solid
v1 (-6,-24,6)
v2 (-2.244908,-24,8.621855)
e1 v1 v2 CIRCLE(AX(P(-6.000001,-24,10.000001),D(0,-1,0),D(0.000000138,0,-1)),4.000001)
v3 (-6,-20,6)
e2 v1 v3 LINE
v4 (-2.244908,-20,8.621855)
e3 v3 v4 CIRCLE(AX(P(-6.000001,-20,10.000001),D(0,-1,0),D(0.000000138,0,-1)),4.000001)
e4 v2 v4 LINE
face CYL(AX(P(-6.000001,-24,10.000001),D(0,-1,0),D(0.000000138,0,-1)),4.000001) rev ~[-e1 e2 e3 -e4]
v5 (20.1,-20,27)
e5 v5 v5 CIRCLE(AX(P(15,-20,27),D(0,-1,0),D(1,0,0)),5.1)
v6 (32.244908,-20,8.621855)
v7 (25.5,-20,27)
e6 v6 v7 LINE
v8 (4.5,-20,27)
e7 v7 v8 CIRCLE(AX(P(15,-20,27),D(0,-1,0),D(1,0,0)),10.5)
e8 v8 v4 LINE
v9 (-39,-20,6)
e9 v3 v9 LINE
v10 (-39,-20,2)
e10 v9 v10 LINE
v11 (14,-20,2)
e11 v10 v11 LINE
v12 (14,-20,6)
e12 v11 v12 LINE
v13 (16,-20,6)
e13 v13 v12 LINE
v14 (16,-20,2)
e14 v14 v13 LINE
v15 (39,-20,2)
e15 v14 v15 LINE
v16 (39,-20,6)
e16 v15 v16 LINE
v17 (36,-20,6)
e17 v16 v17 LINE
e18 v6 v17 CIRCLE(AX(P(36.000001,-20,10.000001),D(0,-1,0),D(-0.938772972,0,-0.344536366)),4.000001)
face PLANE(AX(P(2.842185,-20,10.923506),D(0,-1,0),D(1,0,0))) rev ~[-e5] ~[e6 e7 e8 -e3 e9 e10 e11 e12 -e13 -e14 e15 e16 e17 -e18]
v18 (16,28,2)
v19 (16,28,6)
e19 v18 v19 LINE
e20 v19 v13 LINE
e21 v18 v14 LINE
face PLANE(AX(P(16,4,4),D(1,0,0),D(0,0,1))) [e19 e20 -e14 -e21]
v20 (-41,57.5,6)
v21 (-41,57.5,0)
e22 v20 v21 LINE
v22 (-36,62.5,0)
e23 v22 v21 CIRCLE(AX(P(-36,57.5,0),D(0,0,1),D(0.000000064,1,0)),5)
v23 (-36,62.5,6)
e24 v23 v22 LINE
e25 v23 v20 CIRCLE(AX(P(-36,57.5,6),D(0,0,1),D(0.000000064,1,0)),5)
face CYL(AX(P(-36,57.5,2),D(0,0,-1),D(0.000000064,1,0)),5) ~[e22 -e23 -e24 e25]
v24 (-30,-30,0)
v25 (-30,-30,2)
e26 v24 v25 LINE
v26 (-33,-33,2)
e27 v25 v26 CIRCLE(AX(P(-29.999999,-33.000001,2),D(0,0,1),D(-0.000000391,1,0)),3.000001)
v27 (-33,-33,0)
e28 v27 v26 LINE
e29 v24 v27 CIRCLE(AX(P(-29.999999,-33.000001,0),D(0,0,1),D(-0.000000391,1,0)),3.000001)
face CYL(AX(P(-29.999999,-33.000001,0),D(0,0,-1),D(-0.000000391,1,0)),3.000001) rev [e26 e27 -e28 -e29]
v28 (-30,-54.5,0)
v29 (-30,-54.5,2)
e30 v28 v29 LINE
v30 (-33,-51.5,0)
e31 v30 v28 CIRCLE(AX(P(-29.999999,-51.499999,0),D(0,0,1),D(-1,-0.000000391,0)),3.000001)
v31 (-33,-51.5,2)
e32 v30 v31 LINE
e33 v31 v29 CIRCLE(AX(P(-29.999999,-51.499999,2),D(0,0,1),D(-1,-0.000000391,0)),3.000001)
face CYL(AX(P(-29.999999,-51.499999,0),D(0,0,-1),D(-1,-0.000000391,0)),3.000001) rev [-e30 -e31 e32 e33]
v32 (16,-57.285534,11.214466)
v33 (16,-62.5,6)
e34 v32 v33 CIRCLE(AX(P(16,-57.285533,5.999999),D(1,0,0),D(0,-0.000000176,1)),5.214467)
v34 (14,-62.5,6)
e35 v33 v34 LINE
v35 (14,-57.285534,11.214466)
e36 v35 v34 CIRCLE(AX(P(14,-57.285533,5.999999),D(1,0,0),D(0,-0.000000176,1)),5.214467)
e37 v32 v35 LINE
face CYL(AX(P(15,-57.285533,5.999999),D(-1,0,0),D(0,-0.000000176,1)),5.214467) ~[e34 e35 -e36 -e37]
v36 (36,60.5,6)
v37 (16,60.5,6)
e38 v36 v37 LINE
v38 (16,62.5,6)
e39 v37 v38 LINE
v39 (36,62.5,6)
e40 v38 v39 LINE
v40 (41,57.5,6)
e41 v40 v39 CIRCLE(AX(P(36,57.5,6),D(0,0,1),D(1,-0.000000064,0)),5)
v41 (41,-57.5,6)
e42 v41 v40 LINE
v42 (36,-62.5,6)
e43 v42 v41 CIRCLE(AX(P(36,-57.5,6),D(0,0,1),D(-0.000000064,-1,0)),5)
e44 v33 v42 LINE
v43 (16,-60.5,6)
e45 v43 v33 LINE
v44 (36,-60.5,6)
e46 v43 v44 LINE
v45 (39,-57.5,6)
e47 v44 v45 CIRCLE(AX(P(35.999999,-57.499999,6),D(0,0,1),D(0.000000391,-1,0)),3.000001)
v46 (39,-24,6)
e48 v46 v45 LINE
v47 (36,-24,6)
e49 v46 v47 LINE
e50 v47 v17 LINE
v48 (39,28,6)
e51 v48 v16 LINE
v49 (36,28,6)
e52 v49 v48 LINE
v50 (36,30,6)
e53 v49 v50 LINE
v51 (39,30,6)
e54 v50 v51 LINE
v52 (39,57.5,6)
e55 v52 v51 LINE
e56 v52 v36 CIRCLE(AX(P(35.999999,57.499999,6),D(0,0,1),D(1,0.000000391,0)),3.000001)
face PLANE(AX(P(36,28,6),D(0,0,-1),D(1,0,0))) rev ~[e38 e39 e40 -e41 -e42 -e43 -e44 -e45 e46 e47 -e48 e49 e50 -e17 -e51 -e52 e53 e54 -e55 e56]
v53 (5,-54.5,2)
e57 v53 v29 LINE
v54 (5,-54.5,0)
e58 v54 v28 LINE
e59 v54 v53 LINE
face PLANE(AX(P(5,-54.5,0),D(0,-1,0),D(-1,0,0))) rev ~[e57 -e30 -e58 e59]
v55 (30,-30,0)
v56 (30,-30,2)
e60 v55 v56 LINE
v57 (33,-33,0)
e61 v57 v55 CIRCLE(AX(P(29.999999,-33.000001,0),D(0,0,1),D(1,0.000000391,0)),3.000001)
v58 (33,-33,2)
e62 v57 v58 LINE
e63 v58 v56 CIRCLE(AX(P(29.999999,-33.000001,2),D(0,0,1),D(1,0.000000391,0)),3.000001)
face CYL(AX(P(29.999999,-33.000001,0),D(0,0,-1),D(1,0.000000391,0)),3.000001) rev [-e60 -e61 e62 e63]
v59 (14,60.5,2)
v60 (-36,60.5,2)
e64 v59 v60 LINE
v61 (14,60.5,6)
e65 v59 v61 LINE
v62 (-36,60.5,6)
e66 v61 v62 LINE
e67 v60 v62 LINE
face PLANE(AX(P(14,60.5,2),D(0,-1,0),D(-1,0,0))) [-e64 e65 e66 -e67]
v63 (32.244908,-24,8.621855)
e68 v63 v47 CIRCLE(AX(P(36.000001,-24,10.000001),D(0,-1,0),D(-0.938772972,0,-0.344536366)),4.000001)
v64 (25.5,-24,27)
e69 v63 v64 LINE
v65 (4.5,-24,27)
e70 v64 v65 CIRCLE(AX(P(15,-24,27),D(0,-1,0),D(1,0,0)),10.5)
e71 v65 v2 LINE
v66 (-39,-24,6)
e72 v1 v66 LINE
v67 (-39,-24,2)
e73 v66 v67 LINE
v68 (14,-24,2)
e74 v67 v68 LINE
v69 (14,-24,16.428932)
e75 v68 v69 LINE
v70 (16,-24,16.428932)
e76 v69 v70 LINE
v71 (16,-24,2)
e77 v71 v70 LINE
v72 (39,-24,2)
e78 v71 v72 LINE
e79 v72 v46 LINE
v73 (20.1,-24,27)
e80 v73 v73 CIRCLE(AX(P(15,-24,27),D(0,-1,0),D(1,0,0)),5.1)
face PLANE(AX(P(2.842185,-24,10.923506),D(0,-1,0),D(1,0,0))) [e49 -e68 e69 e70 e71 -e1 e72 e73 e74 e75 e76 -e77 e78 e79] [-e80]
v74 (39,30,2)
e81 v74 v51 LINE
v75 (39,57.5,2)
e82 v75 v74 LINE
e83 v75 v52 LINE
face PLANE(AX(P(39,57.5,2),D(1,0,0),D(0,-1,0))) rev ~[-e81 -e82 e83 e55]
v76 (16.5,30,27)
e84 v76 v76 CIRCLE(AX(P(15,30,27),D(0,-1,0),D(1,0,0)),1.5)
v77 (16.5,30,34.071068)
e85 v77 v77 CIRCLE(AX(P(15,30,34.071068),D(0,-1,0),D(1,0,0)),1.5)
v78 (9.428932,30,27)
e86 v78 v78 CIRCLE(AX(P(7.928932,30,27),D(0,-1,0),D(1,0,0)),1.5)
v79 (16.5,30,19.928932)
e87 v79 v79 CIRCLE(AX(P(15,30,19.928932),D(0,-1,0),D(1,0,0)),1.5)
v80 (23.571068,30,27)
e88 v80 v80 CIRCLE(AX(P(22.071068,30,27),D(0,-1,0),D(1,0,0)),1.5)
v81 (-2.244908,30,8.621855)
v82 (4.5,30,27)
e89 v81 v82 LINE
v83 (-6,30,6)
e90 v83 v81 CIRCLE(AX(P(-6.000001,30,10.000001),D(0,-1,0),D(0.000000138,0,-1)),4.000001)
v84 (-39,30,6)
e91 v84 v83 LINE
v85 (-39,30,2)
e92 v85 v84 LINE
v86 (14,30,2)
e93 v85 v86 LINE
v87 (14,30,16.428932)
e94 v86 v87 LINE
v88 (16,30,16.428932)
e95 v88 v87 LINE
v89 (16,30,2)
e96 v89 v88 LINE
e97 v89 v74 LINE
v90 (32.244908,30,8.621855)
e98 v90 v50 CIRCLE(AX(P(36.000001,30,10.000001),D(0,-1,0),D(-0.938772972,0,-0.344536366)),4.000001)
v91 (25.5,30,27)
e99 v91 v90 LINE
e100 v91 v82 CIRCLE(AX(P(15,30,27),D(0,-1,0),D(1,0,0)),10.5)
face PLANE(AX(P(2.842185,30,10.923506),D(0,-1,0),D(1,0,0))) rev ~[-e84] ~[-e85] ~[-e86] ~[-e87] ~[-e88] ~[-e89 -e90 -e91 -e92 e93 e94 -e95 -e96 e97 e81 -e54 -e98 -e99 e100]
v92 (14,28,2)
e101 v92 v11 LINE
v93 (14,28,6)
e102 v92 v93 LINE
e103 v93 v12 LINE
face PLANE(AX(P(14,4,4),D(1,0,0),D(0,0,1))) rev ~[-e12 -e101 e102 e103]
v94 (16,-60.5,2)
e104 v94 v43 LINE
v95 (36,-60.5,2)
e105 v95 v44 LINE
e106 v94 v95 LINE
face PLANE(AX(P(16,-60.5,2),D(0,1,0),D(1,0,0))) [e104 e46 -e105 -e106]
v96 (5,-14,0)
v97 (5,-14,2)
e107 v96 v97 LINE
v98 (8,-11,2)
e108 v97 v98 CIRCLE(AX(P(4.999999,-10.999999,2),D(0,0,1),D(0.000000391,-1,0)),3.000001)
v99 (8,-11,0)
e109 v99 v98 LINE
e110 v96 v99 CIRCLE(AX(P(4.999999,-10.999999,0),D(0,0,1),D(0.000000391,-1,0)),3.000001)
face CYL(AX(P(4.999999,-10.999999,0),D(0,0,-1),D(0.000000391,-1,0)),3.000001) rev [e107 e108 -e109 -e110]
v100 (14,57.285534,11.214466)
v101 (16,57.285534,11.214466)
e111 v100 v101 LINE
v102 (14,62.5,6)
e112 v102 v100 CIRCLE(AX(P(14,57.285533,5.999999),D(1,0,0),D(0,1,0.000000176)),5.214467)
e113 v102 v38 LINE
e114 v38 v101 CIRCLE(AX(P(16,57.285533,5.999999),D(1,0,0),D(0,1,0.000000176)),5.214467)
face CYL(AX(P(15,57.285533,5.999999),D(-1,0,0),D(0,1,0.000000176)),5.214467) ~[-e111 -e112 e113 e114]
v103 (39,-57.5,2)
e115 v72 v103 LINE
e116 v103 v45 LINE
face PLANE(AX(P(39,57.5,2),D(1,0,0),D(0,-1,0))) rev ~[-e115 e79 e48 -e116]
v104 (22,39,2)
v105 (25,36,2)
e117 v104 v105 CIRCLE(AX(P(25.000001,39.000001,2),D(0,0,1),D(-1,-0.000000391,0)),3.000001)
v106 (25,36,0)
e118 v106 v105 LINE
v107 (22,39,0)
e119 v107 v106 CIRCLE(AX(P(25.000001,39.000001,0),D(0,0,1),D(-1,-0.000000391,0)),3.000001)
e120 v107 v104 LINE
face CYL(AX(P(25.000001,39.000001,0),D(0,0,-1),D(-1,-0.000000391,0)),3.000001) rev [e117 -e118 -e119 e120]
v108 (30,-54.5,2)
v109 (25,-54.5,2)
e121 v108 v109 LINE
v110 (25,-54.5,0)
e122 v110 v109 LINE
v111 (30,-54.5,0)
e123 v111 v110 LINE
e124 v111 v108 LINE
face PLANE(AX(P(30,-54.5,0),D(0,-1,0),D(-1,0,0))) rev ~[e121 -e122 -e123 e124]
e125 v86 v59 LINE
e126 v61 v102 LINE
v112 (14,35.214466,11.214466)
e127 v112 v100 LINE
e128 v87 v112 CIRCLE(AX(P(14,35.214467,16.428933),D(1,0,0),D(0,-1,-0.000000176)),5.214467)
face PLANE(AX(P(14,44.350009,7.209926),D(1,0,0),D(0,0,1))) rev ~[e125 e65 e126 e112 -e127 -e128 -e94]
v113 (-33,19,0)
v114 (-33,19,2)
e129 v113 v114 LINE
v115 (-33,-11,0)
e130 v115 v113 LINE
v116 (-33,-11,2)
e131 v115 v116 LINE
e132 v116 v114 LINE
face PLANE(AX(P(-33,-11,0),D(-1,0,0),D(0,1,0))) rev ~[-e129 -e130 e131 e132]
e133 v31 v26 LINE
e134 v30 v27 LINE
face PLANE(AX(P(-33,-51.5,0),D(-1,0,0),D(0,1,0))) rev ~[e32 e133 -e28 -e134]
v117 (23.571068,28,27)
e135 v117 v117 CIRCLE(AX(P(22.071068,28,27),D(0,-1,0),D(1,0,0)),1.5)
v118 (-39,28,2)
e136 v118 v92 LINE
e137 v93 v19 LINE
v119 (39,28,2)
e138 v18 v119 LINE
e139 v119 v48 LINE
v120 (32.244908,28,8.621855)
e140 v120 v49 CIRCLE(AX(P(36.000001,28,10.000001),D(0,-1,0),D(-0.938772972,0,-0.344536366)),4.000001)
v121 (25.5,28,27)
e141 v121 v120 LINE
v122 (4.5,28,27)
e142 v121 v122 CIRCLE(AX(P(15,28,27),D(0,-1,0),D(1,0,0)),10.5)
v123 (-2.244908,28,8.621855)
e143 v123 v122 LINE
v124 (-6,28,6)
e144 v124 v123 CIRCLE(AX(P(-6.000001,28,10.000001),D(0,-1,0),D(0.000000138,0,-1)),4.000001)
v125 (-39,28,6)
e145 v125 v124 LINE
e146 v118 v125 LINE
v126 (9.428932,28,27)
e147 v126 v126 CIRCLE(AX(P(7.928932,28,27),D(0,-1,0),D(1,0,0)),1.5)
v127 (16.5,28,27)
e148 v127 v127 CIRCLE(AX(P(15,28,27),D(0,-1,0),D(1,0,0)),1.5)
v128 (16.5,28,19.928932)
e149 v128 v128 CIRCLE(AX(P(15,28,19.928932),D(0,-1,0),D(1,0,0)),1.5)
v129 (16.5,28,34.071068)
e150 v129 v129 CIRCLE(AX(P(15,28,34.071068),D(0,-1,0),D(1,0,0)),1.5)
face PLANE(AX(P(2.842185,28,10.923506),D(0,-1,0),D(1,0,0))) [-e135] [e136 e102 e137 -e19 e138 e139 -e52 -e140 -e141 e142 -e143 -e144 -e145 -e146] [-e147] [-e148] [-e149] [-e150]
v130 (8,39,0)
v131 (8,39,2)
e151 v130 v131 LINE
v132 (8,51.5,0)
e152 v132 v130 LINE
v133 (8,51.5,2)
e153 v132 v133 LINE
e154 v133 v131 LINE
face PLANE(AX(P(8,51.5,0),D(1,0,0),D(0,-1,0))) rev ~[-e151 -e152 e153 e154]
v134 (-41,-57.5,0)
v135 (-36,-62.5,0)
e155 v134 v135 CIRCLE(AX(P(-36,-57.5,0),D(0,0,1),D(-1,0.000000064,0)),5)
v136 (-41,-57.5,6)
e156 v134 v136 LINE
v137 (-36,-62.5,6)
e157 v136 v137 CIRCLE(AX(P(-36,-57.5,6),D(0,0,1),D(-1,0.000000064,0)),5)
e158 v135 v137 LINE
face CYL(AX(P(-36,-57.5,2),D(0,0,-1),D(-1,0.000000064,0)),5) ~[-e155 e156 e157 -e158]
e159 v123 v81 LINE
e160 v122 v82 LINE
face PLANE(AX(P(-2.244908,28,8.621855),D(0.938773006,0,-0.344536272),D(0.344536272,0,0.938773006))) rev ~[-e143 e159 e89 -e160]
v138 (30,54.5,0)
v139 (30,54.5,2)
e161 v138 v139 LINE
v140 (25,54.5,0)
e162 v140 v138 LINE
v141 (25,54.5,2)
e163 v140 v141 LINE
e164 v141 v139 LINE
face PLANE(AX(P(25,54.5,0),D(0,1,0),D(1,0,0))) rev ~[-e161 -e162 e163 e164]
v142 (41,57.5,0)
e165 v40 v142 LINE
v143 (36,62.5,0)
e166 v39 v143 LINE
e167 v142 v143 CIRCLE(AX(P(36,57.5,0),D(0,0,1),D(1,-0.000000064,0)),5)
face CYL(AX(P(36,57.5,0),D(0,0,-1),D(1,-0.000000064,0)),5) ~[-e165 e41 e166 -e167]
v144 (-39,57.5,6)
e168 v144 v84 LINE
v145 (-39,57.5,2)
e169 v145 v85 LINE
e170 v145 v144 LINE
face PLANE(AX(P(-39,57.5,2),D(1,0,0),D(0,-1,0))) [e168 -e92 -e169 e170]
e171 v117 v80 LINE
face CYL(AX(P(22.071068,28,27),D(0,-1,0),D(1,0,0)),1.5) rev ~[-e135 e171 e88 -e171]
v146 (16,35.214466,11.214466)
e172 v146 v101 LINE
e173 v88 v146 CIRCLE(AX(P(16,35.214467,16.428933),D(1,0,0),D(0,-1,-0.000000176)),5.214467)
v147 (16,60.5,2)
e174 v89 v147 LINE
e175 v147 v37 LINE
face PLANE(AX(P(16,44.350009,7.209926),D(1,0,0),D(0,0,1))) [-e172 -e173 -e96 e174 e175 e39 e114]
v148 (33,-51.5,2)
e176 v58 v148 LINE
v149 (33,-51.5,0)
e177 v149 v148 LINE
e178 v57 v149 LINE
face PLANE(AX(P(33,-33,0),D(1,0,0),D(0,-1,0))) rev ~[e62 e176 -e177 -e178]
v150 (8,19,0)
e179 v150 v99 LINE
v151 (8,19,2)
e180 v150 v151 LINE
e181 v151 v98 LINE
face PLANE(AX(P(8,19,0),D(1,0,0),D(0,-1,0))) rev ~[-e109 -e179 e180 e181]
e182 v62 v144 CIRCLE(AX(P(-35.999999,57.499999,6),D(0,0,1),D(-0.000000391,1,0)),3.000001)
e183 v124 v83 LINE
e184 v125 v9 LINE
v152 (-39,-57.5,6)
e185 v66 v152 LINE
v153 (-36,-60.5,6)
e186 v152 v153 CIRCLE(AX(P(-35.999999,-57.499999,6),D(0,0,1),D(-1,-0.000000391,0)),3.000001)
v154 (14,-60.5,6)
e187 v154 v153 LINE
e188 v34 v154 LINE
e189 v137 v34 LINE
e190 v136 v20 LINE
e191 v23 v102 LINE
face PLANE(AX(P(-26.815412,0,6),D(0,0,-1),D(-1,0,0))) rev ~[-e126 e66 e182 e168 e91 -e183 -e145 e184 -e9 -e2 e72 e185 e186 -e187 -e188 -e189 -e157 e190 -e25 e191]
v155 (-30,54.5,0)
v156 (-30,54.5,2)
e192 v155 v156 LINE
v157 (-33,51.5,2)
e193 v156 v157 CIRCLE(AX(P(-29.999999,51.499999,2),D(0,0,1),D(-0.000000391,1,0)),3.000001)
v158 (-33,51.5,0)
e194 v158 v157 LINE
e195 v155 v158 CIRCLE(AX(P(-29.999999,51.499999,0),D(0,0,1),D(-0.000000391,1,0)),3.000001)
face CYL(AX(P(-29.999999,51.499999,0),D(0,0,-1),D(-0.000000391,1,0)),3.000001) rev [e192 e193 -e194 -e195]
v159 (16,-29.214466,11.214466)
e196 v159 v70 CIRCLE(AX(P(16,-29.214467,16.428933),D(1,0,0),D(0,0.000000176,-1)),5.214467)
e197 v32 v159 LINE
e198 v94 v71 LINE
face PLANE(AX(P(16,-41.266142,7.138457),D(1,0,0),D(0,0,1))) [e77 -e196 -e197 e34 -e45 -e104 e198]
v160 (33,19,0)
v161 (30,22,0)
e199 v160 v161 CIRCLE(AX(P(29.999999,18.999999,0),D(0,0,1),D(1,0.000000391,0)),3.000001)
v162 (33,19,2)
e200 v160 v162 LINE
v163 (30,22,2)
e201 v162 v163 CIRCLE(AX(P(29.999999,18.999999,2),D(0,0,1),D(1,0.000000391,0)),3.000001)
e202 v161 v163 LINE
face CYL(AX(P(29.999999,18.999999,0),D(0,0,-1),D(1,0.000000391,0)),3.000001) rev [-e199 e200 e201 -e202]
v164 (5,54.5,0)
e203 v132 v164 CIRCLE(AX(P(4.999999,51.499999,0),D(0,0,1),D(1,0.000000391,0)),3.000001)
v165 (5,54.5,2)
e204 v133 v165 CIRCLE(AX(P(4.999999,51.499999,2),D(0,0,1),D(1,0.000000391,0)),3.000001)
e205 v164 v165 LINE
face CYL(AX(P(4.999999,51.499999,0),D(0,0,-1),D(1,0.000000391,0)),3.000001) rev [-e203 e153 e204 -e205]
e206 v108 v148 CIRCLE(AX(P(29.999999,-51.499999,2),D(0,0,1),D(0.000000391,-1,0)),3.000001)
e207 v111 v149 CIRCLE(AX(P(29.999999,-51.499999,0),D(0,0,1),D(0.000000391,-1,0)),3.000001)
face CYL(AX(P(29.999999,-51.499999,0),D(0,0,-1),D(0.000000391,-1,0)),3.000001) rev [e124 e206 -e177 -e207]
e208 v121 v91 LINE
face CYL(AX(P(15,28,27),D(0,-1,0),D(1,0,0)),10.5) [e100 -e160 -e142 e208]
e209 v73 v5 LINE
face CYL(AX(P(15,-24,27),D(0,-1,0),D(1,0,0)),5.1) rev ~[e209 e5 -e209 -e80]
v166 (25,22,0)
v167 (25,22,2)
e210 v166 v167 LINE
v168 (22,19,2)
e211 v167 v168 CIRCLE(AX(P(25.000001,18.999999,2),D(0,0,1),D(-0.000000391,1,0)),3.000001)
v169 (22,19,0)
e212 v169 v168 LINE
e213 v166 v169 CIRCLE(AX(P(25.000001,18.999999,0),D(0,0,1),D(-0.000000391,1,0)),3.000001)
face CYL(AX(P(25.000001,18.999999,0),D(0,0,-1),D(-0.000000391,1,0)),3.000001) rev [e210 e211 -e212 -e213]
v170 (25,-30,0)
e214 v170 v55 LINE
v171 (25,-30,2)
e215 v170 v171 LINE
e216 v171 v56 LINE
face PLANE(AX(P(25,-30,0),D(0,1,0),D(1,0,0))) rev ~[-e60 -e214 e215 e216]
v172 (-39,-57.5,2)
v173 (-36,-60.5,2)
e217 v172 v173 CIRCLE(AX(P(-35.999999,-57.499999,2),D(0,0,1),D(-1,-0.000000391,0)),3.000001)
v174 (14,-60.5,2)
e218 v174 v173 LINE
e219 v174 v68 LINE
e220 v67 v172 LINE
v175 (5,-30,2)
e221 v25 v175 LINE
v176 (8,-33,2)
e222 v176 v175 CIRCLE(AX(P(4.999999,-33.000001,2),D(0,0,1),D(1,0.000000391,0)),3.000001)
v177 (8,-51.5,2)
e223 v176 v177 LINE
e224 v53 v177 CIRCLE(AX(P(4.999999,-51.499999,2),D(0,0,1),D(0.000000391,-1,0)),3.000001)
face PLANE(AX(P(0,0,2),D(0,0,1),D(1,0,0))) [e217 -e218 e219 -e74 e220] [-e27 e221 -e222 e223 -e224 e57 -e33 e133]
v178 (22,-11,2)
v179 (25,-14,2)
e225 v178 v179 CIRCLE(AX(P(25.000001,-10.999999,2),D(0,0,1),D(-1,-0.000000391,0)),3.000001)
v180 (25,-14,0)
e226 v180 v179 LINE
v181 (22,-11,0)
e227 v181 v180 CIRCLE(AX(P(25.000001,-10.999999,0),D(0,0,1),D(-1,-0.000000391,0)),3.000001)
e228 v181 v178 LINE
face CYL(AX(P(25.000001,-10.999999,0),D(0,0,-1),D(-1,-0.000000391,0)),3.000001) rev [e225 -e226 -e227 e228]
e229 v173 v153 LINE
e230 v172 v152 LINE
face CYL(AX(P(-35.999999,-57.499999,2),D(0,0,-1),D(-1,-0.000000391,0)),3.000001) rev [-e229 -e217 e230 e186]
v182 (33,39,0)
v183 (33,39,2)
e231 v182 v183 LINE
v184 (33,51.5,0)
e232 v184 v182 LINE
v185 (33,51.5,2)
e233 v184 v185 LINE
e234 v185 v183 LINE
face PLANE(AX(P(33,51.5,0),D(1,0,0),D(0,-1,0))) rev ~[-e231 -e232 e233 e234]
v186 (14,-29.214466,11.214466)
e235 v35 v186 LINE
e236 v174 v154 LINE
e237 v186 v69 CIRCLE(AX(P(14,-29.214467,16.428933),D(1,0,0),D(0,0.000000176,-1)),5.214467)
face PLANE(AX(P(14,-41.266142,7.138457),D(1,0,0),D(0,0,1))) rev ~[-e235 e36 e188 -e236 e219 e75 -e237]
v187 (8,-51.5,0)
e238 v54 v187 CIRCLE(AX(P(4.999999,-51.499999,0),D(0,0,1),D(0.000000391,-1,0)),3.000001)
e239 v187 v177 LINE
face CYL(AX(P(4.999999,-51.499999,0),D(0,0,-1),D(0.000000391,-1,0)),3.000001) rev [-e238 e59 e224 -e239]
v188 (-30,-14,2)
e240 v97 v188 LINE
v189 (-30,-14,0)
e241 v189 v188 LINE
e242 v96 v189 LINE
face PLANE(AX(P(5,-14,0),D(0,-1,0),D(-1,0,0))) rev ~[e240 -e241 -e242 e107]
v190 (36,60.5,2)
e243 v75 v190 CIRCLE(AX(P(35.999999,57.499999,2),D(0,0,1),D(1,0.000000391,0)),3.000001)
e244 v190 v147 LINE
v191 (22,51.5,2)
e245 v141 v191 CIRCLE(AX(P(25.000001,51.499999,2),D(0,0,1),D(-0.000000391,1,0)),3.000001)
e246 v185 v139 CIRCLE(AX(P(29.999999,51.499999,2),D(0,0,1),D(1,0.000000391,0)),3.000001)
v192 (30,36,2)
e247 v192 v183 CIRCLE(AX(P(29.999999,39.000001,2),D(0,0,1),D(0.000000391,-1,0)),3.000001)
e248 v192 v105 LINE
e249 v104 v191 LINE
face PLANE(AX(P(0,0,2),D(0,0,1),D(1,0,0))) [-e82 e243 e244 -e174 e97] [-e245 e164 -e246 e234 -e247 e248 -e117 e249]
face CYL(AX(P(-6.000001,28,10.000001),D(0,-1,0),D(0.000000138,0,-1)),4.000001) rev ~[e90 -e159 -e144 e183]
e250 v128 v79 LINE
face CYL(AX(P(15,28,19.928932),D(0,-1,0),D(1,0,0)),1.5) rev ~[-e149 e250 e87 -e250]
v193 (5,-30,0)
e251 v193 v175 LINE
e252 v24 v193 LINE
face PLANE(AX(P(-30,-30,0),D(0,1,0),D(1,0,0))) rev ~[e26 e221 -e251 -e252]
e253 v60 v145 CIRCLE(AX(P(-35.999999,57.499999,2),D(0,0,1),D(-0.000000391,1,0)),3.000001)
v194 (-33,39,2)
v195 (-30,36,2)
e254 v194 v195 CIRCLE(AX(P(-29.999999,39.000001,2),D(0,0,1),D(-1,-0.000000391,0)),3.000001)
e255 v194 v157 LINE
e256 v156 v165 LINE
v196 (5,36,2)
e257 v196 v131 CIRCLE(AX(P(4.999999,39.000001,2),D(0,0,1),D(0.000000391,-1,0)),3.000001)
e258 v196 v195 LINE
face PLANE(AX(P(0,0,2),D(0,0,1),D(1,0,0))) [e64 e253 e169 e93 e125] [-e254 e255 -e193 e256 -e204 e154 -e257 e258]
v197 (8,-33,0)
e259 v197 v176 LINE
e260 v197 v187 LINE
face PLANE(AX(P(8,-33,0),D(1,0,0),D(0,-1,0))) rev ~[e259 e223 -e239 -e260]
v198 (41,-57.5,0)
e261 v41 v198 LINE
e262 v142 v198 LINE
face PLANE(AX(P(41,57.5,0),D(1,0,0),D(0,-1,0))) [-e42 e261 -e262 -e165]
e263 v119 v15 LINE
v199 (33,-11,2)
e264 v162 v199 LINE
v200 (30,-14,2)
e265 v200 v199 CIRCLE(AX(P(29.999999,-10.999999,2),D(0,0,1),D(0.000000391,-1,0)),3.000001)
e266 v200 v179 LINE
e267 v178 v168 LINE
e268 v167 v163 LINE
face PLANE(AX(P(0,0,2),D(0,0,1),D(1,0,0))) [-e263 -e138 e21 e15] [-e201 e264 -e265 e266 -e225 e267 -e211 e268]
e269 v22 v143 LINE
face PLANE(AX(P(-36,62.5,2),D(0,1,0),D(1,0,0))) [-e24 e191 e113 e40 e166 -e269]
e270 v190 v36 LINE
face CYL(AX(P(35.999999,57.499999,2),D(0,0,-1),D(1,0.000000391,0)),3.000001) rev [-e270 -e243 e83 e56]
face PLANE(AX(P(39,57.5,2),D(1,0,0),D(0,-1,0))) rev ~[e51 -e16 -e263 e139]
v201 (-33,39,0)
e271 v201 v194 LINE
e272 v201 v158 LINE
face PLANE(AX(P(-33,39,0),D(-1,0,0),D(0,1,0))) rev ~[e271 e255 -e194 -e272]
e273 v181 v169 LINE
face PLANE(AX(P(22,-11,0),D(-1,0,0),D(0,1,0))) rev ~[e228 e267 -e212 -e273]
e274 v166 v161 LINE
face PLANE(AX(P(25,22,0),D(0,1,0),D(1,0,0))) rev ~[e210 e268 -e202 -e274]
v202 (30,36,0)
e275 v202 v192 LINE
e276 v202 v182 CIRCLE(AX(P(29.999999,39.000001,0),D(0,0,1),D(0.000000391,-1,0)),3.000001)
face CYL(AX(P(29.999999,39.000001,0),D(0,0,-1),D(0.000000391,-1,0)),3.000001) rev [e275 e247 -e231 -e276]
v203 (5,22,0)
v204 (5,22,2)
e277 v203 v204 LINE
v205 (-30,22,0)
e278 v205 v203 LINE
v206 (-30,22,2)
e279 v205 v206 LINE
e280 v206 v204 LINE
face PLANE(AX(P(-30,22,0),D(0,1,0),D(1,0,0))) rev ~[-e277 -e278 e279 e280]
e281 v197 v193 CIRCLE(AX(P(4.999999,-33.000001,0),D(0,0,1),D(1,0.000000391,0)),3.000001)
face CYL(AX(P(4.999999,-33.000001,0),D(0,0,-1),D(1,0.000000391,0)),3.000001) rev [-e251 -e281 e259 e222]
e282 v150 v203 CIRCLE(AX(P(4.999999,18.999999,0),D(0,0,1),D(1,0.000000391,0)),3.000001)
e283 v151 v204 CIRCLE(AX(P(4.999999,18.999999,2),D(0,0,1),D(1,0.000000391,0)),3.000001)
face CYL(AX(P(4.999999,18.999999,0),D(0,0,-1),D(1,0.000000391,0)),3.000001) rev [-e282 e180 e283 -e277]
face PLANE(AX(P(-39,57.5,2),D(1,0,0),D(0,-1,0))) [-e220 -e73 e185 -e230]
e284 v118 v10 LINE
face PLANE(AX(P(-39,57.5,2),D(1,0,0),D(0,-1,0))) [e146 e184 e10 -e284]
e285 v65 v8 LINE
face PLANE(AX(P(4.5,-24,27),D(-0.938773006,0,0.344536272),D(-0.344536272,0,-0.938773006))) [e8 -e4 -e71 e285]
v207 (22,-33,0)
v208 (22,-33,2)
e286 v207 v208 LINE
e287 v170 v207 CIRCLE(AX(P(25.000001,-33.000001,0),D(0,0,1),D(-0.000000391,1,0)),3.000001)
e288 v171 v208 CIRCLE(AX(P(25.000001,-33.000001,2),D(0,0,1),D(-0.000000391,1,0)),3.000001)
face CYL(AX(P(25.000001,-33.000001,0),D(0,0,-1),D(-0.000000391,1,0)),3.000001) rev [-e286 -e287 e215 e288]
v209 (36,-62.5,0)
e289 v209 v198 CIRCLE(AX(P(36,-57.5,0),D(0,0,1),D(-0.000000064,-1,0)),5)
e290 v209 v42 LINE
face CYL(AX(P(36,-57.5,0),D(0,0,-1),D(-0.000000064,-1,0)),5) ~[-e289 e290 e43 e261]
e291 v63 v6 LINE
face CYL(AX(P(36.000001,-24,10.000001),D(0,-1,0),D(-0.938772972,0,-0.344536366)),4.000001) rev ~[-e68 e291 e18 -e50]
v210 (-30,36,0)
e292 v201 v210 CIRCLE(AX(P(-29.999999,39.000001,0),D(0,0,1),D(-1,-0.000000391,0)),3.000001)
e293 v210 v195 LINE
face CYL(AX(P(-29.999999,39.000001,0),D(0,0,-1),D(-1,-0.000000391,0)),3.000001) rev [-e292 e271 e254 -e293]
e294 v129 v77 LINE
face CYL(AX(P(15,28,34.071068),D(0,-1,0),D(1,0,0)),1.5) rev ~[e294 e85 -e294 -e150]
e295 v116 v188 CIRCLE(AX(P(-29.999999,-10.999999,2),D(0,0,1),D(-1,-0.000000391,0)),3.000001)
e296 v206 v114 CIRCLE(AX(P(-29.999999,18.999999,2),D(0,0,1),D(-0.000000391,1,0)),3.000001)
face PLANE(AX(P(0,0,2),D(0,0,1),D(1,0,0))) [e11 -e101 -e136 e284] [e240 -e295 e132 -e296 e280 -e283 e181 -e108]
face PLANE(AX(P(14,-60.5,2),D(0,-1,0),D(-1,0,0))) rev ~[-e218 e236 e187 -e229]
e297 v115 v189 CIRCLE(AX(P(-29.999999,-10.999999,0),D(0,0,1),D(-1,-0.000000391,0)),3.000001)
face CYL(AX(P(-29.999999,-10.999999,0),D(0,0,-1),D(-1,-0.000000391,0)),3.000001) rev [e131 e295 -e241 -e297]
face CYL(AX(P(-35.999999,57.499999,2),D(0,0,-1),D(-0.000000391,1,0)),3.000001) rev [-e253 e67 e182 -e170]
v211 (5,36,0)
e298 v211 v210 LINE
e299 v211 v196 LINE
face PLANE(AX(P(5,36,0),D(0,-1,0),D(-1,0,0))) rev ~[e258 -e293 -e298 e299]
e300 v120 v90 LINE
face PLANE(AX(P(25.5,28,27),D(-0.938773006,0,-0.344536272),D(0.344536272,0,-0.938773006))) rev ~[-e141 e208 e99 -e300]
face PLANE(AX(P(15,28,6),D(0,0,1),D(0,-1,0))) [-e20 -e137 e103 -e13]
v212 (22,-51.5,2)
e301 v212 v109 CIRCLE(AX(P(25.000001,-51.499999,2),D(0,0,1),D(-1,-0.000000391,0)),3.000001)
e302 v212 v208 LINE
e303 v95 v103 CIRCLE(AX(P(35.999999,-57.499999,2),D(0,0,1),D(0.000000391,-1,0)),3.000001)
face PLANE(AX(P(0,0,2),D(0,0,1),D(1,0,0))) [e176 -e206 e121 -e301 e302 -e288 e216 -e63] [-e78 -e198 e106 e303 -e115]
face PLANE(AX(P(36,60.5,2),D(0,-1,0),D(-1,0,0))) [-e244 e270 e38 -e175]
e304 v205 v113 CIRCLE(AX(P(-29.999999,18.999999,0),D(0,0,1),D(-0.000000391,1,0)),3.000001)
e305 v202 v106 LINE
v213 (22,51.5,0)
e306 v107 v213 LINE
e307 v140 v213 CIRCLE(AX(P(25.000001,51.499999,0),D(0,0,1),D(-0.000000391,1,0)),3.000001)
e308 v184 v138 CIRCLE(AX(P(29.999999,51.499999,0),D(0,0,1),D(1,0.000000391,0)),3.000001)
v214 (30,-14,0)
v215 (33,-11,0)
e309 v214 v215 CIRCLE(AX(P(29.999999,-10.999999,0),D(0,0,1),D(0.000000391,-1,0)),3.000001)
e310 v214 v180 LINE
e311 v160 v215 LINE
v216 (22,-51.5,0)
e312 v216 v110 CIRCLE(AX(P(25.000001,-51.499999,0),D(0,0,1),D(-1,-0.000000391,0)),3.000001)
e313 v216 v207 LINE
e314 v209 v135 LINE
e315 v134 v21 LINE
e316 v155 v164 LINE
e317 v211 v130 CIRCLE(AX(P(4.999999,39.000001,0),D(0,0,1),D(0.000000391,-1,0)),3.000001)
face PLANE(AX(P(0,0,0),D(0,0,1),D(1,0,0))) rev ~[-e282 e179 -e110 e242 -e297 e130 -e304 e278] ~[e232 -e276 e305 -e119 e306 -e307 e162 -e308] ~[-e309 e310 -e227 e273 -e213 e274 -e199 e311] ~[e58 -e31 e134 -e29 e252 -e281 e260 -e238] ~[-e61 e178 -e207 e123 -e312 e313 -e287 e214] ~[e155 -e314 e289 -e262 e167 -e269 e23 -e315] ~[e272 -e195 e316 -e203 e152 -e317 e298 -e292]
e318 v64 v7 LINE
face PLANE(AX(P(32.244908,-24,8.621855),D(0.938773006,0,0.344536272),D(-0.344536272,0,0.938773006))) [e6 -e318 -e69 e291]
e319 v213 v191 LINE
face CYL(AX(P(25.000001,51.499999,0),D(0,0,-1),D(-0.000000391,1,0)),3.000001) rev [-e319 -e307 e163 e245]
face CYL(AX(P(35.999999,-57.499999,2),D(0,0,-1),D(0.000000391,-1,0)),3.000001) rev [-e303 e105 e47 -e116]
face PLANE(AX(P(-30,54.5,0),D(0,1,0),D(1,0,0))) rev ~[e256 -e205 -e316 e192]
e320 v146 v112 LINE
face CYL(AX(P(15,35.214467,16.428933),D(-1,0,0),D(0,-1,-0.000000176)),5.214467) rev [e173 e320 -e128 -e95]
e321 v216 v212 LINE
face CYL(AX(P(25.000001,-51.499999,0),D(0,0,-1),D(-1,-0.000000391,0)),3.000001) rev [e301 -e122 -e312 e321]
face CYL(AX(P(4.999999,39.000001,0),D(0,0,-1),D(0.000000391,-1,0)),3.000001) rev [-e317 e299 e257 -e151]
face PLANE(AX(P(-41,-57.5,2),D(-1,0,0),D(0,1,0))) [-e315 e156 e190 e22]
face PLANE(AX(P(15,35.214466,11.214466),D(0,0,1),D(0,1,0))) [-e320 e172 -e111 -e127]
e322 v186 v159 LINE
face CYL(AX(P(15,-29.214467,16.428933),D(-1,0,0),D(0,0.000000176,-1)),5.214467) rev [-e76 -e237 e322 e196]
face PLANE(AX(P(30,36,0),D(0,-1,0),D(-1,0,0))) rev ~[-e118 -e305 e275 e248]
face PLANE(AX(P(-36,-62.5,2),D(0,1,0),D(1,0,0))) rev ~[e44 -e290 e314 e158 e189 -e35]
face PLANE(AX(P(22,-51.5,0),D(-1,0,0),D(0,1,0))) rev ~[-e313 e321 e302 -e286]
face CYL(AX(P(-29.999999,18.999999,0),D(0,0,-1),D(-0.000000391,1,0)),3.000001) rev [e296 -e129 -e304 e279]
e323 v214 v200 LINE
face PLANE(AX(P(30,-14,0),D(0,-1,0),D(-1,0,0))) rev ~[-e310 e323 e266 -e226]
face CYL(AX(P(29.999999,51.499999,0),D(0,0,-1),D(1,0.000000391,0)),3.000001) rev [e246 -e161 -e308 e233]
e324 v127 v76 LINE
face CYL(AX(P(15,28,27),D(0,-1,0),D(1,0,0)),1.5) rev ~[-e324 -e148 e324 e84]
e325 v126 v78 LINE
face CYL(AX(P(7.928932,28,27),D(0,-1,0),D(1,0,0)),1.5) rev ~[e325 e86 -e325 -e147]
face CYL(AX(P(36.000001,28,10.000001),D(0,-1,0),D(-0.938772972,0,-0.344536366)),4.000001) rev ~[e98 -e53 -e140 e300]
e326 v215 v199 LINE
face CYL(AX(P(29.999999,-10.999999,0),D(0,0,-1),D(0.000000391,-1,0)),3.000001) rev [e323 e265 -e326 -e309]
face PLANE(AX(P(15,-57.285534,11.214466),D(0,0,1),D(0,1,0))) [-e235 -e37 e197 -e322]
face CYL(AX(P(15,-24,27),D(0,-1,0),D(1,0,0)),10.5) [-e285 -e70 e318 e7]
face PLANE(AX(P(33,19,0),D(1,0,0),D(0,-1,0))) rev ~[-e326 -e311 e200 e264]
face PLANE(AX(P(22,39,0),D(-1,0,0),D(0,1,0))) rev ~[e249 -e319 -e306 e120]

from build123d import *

# Parameters (mm, degrees)
PAD_DEPTH    = 2
SKETCH001_R  = 5.1
PAD001_DEPTH = 4
SKETCH002_R  = 1.5
PAD002_DEPTH = 2
SKETCH003_W  = 4
SKETCH003_H  = 48
PAD003_DEPTH = 1
PAD004_DEPTH = 4


with BuildPart() as part:
    # Sketch → Pad (new body)
    with BuildSketch(Plane.XY):
        with BuildLine():
            ThreePointArc((-36, 62.5), (-39.535534, 61.035534), (-41, 57.5))
            Line((-41, -57.5), (-41, 57.5))
            ThreePointArc((-41, -57.5), (-39.535534, -61.035534), (-36, -62.5))
            Line((36, -62.5), (-36, -62.5))
            ThreePointArc((36, -62.5), (39.535534, -61.035534), (41, -57.5))
            Line((41, 57.5), (41, -57.5))
            ThreePointArc((41, 57.5), (39.535534, 61.035534), (36, 62.5))
            Line((-36, 62.5), (36, 62.5))
        make_face()
        with BuildLine():
            ThreePointArc((-30, 54.5), (-32.12132, 53.62132), (-33, 51.5))
            Line((-33, 39), (-33, 51.5))
            ThreePointArc((-33, 39), (-32.12132, 36.87868), (-30, 36))
            Line((5, 36), (-30, 36))
            ThreePointArc((5, 36), (7.12132, 36.87868), (8, 39))
            Line((8, 51.5), (8, 39))
            ThreePointArc((8, 51.5), (7.12132, 53.62132), (5, 54.5))
            Line((-30, 54.5), (5, 54.5))
        make_face(mode=Mode.SUBTRACT)
        with BuildLine():
            ThreePointArc((25, 54.5), (22.87868, 53.62132), (22, 51.5))
            Line((22, 39), (22, 51.5))
            ThreePointArc((22, 39), (22.87868, 36.87868), (25, 36))
            Line((30, 36), (25, 36))
            ThreePointArc((30, 36), (32.12132, 36.87868), (33, 39))
            Line((33, 51.5), (33, 39))
            ThreePointArc((33, 51.5), (32.12132, 53.62132), (30, 54.5))
            Line((25, 54.5), (30, 54.5))
        make_face(mode=Mode.SUBTRACT)
        with BuildLine():
            ThreePointArc((-30, 22), (-32.12132, 21.12132), (-33, 19))
            Line((-33, -11), (-33, 19))
            ThreePointArc((-33, -11), (-32.12132, -13.12132), (-30, -14))
            Line((5, -14), (-30, -14))
            ThreePointArc((5, -14), (7.12132, -13.12132), (8, -11))
            Line((8, 19), (8, -11))
            ThreePointArc((8, 19), (7.12132, 21.12132), (5, 22))
            Line((-30, 22), (5, 22))
        make_face(mode=Mode.SUBTRACT)
        with BuildLine():
            ThreePointArc((25, 22), (22.87868, 21.12132), (22, 19))
            Line((22, -11), (22, 19))
            ThreePointArc((22, -11), (22.87868, -13.12132), (25, -14))
            Line((30, -14), (25, -14))
            ThreePointArc((30, -14), (32.12132, -13.12132), (33, -11))
            Line((33, 19), (33, -11))
            ThreePointArc((33, 19), (32.12132, 21.12132), (30, 22))
            Line((25, 22), (30, 22))
        make_face(mode=Mode.SUBTRACT)
        with BuildLine():
            ThreePointArc((-30, -30), (-32.12132, -30.87868), (-33, -33))
            Line((-33, -51.5), (-33, -33))
            ThreePointArc((-33, -51.5), (-32.12132, -53.62132), (-30, -54.5))
            Line((5, -54.5), (-30, -54.5))
            ThreePointArc((5, -54.5), (7.12132, -53.62132), (8, -51.5))
            Line((8, -33), (8, -51.5))
            ThreePointArc((8, -33), (7.12132, -30.87868), (5, -30))
            Line((-30, -30), (5, -30))
        make_face(mode=Mode.SUBTRACT)
        with BuildLine():
            ThreePointArc((25, -30), (22.87868, -30.87868), (22, -33))
            Line((22, -51.5), (22, -33))
            ThreePointArc((22, -51.5), (22.87868, -53.62132), (25, -54.5))
            Line((30, -54.5), (25, -54.5))
            ThreePointArc((30, -54.5), (32.12132, -53.62132), (33, -51.5))
            Line((33, -33), (33, -51.5))
            ThreePointArc((33, -33), (32.12132, -30.87868), (30, -30))
            Line((25, -30), (30, -30))
        make_face(mode=Mode.SUBTRACT)
    extrude(amount=PAD_DEPTH)

    # Sketch001 (on DatumPlane) → Pad001 (join)
    with BuildSketch(Plane.XZ.offset(24)):
        with BuildLine():
            Line((39, 2), (39, 6))
            Line((39, 6), (36, 6))
            ThreePointArc((32.244908, 8.621855), (33.710085, 6.720322), (36, 6))
            Line((32.244908, 8.621855), (25.5, 27))
            ThreePointArc((25.5, 27), (15, 37.5), (4.5, 27))
            Line((4.5, 27), (-2.244908, 8.621855))
            ThreePointArc((-6, 6), (-3.710085, 6.720322), (-2.244908, 8.621855))
            Line((-6, 6), (-39, 6))
            Line((-39, 6), (-39, 2))
            Line((-39, 2), (39, 2))
        make_face()
        with Locations((15, 27)):
            Circle(SKETCH001_R, mode=Mode.SUBTRACT)
    extrude(amount=-PAD001_DEPTH)

    # Sketch002 (on DatumPlane) → Pad002 (join)
    with BuildSketch(Plane.XZ.offset(-28)):
        with BuildLine():
            Line((-39, 2), (39, 2))
            Line((39, 2), (39, 6))
            Line((36, 6), (39, 6))
            ThreePointArc((32.244908, 8.621855), (33.710085, 6.720322), (36, 6))
            Line((25.5, 27), (32.244908, 8.621855))
            ThreePointArc((25.5, 27), (15, 37.5), (4.5, 27))
            Line((-2.244908, 8.621855), (4.5, 27))
            ThreePointArc((-6, 6), (-3.710085, 6.720322), (-2.244908, 8.621855))
            Line((-39, 6), (-6, 6))
            Line((-39, 2), (-39, 6))
        make_face()
        with Locations((7.928932, 27)):
            Circle(SKETCH002_R, mode=Mode.SUBTRACT)
        with Locations((15, 34.071068)):
            Circle(SKETCH002_R, mode=Mode.SUBTRACT)
        with Locations((15, 27)):
            Circle(SKETCH002_R, mode=Mode.SUBTRACT)
        with Locations((22.071068, 27)):
            Circle(SKETCH002_R, mode=Mode.SUBTRACT)
        with Locations((15, 19.928932)):
            Circle(SKETCH002_R, mode=Mode.SUBTRACT)
    extrude(amount=-PAD002_DEPTH)

    # Sketch003 (on DatumPlane) → Pad003 (join, symmetric)
    with BuildSketch(Plane(origin=(15, -24, 26), x_dir=(0, 0, 1), z_dir=(1, 0, 0))):
        with BuildLine():
            Line((-24, -54), (-24, -86.5))
            Line((-24, -86.5), (-20, -86.5))
            ThreePointArc((-20, -86.5), (-16.312816, -84.972718), (-14.785534, -81.285534))
            Line((-14.785534, -59.214466), (-14.785534, -81.285534))
            ThreePointArc((-9.571068, -54), (-13.258252, -55.527282), (-14.785534, -59.214466))
            Line((-24, -54), (-9.571068, -54))
        make_face()
        with BuildLine():
            Line((-24, 38.5), (-24, 0))
            Line((-24, 0), (-9.571068, 0))
            ThreePointArc((-14.785534, 5.214466), (-13.258252, 1.527282), (-9.571068, 0))
            Line((-14.785534, 33.285534), (-14.785534, 5.214466))
            ThreePointArc((-14.785534, 33.285534), (-16.312816, 36.972718), (-20, 38.5))
            Line((-24, 38.5), (-20, 38.5))
        make_face()
        with Locations((-22, -28)):
            Rectangle(SKETCH003_W, SKETCH003_H)
    extrude(amount=PAD003_DEPTH, both=True)

    # Sketch004 (on Face8 of Pad003) → Pad004 (join)
    with BuildSketch(Plane.XY.offset(2)):
        with BuildLine():
            Line((-41, -57.5), (-41, 57.5))
            ThreePointArc((-36, 62.5), (-39.535534, 61.035534), (-41, 57.5))
            Line((-36, 62.5), (14, 62.5))
            Line((14, 60.5), (14, 62.5))
            Line((14, 60.5), (-36, 60.5))
            ThreePointArc((-36, 60.5), (-38.12132, 59.62132), (-39, 57.5))
            Line((-39, 57.5), (-39, -57.5))
            ThreePointArc((-39, -57.5), (-38.12132, -59.62132), (-36, -60.5))
            Line((14, -60.5), (-36, -60.5))
            Line((14, -62.5), (14, -60.5))
            Line((-36, -62.5), (14, -62.5))
            ThreePointArc((-41, -57.5), (-39.535534, -61.035534), (-36, -62.5))
        make_face()
        with BuildLine():
            Line((16, 62.5), (36, 62.5))
            ThreePointArc((41, 57.5), (39.535534, 61.035534), (36, 62.5))
            Line((41, -57.5), (41, 57.5))
            ThreePointArc((36, -62.5), (39.535534, -61.035534), (41, -57.5))
            Line((16, -62.5), (36, -62.5))
            Line((16, -60.5), (16, -62.5))
            Line((16, -60.5), (36, -60.5))
            ThreePointArc((36, -60.5), (38.12132, -59.62132), (39, -57.5))
            Line((39, 57.5), (39, -57.5))
            ThreePointArc((39, 57.5), (38.12132, 59.62132), (36, 60.5))
            Line((36, 60.5), (16, 60.5))
            Line((16, 60.5), (16, 62.5))
        make_face()
    extrude(amount=PAD004_DEPTH)


solid = part.part
